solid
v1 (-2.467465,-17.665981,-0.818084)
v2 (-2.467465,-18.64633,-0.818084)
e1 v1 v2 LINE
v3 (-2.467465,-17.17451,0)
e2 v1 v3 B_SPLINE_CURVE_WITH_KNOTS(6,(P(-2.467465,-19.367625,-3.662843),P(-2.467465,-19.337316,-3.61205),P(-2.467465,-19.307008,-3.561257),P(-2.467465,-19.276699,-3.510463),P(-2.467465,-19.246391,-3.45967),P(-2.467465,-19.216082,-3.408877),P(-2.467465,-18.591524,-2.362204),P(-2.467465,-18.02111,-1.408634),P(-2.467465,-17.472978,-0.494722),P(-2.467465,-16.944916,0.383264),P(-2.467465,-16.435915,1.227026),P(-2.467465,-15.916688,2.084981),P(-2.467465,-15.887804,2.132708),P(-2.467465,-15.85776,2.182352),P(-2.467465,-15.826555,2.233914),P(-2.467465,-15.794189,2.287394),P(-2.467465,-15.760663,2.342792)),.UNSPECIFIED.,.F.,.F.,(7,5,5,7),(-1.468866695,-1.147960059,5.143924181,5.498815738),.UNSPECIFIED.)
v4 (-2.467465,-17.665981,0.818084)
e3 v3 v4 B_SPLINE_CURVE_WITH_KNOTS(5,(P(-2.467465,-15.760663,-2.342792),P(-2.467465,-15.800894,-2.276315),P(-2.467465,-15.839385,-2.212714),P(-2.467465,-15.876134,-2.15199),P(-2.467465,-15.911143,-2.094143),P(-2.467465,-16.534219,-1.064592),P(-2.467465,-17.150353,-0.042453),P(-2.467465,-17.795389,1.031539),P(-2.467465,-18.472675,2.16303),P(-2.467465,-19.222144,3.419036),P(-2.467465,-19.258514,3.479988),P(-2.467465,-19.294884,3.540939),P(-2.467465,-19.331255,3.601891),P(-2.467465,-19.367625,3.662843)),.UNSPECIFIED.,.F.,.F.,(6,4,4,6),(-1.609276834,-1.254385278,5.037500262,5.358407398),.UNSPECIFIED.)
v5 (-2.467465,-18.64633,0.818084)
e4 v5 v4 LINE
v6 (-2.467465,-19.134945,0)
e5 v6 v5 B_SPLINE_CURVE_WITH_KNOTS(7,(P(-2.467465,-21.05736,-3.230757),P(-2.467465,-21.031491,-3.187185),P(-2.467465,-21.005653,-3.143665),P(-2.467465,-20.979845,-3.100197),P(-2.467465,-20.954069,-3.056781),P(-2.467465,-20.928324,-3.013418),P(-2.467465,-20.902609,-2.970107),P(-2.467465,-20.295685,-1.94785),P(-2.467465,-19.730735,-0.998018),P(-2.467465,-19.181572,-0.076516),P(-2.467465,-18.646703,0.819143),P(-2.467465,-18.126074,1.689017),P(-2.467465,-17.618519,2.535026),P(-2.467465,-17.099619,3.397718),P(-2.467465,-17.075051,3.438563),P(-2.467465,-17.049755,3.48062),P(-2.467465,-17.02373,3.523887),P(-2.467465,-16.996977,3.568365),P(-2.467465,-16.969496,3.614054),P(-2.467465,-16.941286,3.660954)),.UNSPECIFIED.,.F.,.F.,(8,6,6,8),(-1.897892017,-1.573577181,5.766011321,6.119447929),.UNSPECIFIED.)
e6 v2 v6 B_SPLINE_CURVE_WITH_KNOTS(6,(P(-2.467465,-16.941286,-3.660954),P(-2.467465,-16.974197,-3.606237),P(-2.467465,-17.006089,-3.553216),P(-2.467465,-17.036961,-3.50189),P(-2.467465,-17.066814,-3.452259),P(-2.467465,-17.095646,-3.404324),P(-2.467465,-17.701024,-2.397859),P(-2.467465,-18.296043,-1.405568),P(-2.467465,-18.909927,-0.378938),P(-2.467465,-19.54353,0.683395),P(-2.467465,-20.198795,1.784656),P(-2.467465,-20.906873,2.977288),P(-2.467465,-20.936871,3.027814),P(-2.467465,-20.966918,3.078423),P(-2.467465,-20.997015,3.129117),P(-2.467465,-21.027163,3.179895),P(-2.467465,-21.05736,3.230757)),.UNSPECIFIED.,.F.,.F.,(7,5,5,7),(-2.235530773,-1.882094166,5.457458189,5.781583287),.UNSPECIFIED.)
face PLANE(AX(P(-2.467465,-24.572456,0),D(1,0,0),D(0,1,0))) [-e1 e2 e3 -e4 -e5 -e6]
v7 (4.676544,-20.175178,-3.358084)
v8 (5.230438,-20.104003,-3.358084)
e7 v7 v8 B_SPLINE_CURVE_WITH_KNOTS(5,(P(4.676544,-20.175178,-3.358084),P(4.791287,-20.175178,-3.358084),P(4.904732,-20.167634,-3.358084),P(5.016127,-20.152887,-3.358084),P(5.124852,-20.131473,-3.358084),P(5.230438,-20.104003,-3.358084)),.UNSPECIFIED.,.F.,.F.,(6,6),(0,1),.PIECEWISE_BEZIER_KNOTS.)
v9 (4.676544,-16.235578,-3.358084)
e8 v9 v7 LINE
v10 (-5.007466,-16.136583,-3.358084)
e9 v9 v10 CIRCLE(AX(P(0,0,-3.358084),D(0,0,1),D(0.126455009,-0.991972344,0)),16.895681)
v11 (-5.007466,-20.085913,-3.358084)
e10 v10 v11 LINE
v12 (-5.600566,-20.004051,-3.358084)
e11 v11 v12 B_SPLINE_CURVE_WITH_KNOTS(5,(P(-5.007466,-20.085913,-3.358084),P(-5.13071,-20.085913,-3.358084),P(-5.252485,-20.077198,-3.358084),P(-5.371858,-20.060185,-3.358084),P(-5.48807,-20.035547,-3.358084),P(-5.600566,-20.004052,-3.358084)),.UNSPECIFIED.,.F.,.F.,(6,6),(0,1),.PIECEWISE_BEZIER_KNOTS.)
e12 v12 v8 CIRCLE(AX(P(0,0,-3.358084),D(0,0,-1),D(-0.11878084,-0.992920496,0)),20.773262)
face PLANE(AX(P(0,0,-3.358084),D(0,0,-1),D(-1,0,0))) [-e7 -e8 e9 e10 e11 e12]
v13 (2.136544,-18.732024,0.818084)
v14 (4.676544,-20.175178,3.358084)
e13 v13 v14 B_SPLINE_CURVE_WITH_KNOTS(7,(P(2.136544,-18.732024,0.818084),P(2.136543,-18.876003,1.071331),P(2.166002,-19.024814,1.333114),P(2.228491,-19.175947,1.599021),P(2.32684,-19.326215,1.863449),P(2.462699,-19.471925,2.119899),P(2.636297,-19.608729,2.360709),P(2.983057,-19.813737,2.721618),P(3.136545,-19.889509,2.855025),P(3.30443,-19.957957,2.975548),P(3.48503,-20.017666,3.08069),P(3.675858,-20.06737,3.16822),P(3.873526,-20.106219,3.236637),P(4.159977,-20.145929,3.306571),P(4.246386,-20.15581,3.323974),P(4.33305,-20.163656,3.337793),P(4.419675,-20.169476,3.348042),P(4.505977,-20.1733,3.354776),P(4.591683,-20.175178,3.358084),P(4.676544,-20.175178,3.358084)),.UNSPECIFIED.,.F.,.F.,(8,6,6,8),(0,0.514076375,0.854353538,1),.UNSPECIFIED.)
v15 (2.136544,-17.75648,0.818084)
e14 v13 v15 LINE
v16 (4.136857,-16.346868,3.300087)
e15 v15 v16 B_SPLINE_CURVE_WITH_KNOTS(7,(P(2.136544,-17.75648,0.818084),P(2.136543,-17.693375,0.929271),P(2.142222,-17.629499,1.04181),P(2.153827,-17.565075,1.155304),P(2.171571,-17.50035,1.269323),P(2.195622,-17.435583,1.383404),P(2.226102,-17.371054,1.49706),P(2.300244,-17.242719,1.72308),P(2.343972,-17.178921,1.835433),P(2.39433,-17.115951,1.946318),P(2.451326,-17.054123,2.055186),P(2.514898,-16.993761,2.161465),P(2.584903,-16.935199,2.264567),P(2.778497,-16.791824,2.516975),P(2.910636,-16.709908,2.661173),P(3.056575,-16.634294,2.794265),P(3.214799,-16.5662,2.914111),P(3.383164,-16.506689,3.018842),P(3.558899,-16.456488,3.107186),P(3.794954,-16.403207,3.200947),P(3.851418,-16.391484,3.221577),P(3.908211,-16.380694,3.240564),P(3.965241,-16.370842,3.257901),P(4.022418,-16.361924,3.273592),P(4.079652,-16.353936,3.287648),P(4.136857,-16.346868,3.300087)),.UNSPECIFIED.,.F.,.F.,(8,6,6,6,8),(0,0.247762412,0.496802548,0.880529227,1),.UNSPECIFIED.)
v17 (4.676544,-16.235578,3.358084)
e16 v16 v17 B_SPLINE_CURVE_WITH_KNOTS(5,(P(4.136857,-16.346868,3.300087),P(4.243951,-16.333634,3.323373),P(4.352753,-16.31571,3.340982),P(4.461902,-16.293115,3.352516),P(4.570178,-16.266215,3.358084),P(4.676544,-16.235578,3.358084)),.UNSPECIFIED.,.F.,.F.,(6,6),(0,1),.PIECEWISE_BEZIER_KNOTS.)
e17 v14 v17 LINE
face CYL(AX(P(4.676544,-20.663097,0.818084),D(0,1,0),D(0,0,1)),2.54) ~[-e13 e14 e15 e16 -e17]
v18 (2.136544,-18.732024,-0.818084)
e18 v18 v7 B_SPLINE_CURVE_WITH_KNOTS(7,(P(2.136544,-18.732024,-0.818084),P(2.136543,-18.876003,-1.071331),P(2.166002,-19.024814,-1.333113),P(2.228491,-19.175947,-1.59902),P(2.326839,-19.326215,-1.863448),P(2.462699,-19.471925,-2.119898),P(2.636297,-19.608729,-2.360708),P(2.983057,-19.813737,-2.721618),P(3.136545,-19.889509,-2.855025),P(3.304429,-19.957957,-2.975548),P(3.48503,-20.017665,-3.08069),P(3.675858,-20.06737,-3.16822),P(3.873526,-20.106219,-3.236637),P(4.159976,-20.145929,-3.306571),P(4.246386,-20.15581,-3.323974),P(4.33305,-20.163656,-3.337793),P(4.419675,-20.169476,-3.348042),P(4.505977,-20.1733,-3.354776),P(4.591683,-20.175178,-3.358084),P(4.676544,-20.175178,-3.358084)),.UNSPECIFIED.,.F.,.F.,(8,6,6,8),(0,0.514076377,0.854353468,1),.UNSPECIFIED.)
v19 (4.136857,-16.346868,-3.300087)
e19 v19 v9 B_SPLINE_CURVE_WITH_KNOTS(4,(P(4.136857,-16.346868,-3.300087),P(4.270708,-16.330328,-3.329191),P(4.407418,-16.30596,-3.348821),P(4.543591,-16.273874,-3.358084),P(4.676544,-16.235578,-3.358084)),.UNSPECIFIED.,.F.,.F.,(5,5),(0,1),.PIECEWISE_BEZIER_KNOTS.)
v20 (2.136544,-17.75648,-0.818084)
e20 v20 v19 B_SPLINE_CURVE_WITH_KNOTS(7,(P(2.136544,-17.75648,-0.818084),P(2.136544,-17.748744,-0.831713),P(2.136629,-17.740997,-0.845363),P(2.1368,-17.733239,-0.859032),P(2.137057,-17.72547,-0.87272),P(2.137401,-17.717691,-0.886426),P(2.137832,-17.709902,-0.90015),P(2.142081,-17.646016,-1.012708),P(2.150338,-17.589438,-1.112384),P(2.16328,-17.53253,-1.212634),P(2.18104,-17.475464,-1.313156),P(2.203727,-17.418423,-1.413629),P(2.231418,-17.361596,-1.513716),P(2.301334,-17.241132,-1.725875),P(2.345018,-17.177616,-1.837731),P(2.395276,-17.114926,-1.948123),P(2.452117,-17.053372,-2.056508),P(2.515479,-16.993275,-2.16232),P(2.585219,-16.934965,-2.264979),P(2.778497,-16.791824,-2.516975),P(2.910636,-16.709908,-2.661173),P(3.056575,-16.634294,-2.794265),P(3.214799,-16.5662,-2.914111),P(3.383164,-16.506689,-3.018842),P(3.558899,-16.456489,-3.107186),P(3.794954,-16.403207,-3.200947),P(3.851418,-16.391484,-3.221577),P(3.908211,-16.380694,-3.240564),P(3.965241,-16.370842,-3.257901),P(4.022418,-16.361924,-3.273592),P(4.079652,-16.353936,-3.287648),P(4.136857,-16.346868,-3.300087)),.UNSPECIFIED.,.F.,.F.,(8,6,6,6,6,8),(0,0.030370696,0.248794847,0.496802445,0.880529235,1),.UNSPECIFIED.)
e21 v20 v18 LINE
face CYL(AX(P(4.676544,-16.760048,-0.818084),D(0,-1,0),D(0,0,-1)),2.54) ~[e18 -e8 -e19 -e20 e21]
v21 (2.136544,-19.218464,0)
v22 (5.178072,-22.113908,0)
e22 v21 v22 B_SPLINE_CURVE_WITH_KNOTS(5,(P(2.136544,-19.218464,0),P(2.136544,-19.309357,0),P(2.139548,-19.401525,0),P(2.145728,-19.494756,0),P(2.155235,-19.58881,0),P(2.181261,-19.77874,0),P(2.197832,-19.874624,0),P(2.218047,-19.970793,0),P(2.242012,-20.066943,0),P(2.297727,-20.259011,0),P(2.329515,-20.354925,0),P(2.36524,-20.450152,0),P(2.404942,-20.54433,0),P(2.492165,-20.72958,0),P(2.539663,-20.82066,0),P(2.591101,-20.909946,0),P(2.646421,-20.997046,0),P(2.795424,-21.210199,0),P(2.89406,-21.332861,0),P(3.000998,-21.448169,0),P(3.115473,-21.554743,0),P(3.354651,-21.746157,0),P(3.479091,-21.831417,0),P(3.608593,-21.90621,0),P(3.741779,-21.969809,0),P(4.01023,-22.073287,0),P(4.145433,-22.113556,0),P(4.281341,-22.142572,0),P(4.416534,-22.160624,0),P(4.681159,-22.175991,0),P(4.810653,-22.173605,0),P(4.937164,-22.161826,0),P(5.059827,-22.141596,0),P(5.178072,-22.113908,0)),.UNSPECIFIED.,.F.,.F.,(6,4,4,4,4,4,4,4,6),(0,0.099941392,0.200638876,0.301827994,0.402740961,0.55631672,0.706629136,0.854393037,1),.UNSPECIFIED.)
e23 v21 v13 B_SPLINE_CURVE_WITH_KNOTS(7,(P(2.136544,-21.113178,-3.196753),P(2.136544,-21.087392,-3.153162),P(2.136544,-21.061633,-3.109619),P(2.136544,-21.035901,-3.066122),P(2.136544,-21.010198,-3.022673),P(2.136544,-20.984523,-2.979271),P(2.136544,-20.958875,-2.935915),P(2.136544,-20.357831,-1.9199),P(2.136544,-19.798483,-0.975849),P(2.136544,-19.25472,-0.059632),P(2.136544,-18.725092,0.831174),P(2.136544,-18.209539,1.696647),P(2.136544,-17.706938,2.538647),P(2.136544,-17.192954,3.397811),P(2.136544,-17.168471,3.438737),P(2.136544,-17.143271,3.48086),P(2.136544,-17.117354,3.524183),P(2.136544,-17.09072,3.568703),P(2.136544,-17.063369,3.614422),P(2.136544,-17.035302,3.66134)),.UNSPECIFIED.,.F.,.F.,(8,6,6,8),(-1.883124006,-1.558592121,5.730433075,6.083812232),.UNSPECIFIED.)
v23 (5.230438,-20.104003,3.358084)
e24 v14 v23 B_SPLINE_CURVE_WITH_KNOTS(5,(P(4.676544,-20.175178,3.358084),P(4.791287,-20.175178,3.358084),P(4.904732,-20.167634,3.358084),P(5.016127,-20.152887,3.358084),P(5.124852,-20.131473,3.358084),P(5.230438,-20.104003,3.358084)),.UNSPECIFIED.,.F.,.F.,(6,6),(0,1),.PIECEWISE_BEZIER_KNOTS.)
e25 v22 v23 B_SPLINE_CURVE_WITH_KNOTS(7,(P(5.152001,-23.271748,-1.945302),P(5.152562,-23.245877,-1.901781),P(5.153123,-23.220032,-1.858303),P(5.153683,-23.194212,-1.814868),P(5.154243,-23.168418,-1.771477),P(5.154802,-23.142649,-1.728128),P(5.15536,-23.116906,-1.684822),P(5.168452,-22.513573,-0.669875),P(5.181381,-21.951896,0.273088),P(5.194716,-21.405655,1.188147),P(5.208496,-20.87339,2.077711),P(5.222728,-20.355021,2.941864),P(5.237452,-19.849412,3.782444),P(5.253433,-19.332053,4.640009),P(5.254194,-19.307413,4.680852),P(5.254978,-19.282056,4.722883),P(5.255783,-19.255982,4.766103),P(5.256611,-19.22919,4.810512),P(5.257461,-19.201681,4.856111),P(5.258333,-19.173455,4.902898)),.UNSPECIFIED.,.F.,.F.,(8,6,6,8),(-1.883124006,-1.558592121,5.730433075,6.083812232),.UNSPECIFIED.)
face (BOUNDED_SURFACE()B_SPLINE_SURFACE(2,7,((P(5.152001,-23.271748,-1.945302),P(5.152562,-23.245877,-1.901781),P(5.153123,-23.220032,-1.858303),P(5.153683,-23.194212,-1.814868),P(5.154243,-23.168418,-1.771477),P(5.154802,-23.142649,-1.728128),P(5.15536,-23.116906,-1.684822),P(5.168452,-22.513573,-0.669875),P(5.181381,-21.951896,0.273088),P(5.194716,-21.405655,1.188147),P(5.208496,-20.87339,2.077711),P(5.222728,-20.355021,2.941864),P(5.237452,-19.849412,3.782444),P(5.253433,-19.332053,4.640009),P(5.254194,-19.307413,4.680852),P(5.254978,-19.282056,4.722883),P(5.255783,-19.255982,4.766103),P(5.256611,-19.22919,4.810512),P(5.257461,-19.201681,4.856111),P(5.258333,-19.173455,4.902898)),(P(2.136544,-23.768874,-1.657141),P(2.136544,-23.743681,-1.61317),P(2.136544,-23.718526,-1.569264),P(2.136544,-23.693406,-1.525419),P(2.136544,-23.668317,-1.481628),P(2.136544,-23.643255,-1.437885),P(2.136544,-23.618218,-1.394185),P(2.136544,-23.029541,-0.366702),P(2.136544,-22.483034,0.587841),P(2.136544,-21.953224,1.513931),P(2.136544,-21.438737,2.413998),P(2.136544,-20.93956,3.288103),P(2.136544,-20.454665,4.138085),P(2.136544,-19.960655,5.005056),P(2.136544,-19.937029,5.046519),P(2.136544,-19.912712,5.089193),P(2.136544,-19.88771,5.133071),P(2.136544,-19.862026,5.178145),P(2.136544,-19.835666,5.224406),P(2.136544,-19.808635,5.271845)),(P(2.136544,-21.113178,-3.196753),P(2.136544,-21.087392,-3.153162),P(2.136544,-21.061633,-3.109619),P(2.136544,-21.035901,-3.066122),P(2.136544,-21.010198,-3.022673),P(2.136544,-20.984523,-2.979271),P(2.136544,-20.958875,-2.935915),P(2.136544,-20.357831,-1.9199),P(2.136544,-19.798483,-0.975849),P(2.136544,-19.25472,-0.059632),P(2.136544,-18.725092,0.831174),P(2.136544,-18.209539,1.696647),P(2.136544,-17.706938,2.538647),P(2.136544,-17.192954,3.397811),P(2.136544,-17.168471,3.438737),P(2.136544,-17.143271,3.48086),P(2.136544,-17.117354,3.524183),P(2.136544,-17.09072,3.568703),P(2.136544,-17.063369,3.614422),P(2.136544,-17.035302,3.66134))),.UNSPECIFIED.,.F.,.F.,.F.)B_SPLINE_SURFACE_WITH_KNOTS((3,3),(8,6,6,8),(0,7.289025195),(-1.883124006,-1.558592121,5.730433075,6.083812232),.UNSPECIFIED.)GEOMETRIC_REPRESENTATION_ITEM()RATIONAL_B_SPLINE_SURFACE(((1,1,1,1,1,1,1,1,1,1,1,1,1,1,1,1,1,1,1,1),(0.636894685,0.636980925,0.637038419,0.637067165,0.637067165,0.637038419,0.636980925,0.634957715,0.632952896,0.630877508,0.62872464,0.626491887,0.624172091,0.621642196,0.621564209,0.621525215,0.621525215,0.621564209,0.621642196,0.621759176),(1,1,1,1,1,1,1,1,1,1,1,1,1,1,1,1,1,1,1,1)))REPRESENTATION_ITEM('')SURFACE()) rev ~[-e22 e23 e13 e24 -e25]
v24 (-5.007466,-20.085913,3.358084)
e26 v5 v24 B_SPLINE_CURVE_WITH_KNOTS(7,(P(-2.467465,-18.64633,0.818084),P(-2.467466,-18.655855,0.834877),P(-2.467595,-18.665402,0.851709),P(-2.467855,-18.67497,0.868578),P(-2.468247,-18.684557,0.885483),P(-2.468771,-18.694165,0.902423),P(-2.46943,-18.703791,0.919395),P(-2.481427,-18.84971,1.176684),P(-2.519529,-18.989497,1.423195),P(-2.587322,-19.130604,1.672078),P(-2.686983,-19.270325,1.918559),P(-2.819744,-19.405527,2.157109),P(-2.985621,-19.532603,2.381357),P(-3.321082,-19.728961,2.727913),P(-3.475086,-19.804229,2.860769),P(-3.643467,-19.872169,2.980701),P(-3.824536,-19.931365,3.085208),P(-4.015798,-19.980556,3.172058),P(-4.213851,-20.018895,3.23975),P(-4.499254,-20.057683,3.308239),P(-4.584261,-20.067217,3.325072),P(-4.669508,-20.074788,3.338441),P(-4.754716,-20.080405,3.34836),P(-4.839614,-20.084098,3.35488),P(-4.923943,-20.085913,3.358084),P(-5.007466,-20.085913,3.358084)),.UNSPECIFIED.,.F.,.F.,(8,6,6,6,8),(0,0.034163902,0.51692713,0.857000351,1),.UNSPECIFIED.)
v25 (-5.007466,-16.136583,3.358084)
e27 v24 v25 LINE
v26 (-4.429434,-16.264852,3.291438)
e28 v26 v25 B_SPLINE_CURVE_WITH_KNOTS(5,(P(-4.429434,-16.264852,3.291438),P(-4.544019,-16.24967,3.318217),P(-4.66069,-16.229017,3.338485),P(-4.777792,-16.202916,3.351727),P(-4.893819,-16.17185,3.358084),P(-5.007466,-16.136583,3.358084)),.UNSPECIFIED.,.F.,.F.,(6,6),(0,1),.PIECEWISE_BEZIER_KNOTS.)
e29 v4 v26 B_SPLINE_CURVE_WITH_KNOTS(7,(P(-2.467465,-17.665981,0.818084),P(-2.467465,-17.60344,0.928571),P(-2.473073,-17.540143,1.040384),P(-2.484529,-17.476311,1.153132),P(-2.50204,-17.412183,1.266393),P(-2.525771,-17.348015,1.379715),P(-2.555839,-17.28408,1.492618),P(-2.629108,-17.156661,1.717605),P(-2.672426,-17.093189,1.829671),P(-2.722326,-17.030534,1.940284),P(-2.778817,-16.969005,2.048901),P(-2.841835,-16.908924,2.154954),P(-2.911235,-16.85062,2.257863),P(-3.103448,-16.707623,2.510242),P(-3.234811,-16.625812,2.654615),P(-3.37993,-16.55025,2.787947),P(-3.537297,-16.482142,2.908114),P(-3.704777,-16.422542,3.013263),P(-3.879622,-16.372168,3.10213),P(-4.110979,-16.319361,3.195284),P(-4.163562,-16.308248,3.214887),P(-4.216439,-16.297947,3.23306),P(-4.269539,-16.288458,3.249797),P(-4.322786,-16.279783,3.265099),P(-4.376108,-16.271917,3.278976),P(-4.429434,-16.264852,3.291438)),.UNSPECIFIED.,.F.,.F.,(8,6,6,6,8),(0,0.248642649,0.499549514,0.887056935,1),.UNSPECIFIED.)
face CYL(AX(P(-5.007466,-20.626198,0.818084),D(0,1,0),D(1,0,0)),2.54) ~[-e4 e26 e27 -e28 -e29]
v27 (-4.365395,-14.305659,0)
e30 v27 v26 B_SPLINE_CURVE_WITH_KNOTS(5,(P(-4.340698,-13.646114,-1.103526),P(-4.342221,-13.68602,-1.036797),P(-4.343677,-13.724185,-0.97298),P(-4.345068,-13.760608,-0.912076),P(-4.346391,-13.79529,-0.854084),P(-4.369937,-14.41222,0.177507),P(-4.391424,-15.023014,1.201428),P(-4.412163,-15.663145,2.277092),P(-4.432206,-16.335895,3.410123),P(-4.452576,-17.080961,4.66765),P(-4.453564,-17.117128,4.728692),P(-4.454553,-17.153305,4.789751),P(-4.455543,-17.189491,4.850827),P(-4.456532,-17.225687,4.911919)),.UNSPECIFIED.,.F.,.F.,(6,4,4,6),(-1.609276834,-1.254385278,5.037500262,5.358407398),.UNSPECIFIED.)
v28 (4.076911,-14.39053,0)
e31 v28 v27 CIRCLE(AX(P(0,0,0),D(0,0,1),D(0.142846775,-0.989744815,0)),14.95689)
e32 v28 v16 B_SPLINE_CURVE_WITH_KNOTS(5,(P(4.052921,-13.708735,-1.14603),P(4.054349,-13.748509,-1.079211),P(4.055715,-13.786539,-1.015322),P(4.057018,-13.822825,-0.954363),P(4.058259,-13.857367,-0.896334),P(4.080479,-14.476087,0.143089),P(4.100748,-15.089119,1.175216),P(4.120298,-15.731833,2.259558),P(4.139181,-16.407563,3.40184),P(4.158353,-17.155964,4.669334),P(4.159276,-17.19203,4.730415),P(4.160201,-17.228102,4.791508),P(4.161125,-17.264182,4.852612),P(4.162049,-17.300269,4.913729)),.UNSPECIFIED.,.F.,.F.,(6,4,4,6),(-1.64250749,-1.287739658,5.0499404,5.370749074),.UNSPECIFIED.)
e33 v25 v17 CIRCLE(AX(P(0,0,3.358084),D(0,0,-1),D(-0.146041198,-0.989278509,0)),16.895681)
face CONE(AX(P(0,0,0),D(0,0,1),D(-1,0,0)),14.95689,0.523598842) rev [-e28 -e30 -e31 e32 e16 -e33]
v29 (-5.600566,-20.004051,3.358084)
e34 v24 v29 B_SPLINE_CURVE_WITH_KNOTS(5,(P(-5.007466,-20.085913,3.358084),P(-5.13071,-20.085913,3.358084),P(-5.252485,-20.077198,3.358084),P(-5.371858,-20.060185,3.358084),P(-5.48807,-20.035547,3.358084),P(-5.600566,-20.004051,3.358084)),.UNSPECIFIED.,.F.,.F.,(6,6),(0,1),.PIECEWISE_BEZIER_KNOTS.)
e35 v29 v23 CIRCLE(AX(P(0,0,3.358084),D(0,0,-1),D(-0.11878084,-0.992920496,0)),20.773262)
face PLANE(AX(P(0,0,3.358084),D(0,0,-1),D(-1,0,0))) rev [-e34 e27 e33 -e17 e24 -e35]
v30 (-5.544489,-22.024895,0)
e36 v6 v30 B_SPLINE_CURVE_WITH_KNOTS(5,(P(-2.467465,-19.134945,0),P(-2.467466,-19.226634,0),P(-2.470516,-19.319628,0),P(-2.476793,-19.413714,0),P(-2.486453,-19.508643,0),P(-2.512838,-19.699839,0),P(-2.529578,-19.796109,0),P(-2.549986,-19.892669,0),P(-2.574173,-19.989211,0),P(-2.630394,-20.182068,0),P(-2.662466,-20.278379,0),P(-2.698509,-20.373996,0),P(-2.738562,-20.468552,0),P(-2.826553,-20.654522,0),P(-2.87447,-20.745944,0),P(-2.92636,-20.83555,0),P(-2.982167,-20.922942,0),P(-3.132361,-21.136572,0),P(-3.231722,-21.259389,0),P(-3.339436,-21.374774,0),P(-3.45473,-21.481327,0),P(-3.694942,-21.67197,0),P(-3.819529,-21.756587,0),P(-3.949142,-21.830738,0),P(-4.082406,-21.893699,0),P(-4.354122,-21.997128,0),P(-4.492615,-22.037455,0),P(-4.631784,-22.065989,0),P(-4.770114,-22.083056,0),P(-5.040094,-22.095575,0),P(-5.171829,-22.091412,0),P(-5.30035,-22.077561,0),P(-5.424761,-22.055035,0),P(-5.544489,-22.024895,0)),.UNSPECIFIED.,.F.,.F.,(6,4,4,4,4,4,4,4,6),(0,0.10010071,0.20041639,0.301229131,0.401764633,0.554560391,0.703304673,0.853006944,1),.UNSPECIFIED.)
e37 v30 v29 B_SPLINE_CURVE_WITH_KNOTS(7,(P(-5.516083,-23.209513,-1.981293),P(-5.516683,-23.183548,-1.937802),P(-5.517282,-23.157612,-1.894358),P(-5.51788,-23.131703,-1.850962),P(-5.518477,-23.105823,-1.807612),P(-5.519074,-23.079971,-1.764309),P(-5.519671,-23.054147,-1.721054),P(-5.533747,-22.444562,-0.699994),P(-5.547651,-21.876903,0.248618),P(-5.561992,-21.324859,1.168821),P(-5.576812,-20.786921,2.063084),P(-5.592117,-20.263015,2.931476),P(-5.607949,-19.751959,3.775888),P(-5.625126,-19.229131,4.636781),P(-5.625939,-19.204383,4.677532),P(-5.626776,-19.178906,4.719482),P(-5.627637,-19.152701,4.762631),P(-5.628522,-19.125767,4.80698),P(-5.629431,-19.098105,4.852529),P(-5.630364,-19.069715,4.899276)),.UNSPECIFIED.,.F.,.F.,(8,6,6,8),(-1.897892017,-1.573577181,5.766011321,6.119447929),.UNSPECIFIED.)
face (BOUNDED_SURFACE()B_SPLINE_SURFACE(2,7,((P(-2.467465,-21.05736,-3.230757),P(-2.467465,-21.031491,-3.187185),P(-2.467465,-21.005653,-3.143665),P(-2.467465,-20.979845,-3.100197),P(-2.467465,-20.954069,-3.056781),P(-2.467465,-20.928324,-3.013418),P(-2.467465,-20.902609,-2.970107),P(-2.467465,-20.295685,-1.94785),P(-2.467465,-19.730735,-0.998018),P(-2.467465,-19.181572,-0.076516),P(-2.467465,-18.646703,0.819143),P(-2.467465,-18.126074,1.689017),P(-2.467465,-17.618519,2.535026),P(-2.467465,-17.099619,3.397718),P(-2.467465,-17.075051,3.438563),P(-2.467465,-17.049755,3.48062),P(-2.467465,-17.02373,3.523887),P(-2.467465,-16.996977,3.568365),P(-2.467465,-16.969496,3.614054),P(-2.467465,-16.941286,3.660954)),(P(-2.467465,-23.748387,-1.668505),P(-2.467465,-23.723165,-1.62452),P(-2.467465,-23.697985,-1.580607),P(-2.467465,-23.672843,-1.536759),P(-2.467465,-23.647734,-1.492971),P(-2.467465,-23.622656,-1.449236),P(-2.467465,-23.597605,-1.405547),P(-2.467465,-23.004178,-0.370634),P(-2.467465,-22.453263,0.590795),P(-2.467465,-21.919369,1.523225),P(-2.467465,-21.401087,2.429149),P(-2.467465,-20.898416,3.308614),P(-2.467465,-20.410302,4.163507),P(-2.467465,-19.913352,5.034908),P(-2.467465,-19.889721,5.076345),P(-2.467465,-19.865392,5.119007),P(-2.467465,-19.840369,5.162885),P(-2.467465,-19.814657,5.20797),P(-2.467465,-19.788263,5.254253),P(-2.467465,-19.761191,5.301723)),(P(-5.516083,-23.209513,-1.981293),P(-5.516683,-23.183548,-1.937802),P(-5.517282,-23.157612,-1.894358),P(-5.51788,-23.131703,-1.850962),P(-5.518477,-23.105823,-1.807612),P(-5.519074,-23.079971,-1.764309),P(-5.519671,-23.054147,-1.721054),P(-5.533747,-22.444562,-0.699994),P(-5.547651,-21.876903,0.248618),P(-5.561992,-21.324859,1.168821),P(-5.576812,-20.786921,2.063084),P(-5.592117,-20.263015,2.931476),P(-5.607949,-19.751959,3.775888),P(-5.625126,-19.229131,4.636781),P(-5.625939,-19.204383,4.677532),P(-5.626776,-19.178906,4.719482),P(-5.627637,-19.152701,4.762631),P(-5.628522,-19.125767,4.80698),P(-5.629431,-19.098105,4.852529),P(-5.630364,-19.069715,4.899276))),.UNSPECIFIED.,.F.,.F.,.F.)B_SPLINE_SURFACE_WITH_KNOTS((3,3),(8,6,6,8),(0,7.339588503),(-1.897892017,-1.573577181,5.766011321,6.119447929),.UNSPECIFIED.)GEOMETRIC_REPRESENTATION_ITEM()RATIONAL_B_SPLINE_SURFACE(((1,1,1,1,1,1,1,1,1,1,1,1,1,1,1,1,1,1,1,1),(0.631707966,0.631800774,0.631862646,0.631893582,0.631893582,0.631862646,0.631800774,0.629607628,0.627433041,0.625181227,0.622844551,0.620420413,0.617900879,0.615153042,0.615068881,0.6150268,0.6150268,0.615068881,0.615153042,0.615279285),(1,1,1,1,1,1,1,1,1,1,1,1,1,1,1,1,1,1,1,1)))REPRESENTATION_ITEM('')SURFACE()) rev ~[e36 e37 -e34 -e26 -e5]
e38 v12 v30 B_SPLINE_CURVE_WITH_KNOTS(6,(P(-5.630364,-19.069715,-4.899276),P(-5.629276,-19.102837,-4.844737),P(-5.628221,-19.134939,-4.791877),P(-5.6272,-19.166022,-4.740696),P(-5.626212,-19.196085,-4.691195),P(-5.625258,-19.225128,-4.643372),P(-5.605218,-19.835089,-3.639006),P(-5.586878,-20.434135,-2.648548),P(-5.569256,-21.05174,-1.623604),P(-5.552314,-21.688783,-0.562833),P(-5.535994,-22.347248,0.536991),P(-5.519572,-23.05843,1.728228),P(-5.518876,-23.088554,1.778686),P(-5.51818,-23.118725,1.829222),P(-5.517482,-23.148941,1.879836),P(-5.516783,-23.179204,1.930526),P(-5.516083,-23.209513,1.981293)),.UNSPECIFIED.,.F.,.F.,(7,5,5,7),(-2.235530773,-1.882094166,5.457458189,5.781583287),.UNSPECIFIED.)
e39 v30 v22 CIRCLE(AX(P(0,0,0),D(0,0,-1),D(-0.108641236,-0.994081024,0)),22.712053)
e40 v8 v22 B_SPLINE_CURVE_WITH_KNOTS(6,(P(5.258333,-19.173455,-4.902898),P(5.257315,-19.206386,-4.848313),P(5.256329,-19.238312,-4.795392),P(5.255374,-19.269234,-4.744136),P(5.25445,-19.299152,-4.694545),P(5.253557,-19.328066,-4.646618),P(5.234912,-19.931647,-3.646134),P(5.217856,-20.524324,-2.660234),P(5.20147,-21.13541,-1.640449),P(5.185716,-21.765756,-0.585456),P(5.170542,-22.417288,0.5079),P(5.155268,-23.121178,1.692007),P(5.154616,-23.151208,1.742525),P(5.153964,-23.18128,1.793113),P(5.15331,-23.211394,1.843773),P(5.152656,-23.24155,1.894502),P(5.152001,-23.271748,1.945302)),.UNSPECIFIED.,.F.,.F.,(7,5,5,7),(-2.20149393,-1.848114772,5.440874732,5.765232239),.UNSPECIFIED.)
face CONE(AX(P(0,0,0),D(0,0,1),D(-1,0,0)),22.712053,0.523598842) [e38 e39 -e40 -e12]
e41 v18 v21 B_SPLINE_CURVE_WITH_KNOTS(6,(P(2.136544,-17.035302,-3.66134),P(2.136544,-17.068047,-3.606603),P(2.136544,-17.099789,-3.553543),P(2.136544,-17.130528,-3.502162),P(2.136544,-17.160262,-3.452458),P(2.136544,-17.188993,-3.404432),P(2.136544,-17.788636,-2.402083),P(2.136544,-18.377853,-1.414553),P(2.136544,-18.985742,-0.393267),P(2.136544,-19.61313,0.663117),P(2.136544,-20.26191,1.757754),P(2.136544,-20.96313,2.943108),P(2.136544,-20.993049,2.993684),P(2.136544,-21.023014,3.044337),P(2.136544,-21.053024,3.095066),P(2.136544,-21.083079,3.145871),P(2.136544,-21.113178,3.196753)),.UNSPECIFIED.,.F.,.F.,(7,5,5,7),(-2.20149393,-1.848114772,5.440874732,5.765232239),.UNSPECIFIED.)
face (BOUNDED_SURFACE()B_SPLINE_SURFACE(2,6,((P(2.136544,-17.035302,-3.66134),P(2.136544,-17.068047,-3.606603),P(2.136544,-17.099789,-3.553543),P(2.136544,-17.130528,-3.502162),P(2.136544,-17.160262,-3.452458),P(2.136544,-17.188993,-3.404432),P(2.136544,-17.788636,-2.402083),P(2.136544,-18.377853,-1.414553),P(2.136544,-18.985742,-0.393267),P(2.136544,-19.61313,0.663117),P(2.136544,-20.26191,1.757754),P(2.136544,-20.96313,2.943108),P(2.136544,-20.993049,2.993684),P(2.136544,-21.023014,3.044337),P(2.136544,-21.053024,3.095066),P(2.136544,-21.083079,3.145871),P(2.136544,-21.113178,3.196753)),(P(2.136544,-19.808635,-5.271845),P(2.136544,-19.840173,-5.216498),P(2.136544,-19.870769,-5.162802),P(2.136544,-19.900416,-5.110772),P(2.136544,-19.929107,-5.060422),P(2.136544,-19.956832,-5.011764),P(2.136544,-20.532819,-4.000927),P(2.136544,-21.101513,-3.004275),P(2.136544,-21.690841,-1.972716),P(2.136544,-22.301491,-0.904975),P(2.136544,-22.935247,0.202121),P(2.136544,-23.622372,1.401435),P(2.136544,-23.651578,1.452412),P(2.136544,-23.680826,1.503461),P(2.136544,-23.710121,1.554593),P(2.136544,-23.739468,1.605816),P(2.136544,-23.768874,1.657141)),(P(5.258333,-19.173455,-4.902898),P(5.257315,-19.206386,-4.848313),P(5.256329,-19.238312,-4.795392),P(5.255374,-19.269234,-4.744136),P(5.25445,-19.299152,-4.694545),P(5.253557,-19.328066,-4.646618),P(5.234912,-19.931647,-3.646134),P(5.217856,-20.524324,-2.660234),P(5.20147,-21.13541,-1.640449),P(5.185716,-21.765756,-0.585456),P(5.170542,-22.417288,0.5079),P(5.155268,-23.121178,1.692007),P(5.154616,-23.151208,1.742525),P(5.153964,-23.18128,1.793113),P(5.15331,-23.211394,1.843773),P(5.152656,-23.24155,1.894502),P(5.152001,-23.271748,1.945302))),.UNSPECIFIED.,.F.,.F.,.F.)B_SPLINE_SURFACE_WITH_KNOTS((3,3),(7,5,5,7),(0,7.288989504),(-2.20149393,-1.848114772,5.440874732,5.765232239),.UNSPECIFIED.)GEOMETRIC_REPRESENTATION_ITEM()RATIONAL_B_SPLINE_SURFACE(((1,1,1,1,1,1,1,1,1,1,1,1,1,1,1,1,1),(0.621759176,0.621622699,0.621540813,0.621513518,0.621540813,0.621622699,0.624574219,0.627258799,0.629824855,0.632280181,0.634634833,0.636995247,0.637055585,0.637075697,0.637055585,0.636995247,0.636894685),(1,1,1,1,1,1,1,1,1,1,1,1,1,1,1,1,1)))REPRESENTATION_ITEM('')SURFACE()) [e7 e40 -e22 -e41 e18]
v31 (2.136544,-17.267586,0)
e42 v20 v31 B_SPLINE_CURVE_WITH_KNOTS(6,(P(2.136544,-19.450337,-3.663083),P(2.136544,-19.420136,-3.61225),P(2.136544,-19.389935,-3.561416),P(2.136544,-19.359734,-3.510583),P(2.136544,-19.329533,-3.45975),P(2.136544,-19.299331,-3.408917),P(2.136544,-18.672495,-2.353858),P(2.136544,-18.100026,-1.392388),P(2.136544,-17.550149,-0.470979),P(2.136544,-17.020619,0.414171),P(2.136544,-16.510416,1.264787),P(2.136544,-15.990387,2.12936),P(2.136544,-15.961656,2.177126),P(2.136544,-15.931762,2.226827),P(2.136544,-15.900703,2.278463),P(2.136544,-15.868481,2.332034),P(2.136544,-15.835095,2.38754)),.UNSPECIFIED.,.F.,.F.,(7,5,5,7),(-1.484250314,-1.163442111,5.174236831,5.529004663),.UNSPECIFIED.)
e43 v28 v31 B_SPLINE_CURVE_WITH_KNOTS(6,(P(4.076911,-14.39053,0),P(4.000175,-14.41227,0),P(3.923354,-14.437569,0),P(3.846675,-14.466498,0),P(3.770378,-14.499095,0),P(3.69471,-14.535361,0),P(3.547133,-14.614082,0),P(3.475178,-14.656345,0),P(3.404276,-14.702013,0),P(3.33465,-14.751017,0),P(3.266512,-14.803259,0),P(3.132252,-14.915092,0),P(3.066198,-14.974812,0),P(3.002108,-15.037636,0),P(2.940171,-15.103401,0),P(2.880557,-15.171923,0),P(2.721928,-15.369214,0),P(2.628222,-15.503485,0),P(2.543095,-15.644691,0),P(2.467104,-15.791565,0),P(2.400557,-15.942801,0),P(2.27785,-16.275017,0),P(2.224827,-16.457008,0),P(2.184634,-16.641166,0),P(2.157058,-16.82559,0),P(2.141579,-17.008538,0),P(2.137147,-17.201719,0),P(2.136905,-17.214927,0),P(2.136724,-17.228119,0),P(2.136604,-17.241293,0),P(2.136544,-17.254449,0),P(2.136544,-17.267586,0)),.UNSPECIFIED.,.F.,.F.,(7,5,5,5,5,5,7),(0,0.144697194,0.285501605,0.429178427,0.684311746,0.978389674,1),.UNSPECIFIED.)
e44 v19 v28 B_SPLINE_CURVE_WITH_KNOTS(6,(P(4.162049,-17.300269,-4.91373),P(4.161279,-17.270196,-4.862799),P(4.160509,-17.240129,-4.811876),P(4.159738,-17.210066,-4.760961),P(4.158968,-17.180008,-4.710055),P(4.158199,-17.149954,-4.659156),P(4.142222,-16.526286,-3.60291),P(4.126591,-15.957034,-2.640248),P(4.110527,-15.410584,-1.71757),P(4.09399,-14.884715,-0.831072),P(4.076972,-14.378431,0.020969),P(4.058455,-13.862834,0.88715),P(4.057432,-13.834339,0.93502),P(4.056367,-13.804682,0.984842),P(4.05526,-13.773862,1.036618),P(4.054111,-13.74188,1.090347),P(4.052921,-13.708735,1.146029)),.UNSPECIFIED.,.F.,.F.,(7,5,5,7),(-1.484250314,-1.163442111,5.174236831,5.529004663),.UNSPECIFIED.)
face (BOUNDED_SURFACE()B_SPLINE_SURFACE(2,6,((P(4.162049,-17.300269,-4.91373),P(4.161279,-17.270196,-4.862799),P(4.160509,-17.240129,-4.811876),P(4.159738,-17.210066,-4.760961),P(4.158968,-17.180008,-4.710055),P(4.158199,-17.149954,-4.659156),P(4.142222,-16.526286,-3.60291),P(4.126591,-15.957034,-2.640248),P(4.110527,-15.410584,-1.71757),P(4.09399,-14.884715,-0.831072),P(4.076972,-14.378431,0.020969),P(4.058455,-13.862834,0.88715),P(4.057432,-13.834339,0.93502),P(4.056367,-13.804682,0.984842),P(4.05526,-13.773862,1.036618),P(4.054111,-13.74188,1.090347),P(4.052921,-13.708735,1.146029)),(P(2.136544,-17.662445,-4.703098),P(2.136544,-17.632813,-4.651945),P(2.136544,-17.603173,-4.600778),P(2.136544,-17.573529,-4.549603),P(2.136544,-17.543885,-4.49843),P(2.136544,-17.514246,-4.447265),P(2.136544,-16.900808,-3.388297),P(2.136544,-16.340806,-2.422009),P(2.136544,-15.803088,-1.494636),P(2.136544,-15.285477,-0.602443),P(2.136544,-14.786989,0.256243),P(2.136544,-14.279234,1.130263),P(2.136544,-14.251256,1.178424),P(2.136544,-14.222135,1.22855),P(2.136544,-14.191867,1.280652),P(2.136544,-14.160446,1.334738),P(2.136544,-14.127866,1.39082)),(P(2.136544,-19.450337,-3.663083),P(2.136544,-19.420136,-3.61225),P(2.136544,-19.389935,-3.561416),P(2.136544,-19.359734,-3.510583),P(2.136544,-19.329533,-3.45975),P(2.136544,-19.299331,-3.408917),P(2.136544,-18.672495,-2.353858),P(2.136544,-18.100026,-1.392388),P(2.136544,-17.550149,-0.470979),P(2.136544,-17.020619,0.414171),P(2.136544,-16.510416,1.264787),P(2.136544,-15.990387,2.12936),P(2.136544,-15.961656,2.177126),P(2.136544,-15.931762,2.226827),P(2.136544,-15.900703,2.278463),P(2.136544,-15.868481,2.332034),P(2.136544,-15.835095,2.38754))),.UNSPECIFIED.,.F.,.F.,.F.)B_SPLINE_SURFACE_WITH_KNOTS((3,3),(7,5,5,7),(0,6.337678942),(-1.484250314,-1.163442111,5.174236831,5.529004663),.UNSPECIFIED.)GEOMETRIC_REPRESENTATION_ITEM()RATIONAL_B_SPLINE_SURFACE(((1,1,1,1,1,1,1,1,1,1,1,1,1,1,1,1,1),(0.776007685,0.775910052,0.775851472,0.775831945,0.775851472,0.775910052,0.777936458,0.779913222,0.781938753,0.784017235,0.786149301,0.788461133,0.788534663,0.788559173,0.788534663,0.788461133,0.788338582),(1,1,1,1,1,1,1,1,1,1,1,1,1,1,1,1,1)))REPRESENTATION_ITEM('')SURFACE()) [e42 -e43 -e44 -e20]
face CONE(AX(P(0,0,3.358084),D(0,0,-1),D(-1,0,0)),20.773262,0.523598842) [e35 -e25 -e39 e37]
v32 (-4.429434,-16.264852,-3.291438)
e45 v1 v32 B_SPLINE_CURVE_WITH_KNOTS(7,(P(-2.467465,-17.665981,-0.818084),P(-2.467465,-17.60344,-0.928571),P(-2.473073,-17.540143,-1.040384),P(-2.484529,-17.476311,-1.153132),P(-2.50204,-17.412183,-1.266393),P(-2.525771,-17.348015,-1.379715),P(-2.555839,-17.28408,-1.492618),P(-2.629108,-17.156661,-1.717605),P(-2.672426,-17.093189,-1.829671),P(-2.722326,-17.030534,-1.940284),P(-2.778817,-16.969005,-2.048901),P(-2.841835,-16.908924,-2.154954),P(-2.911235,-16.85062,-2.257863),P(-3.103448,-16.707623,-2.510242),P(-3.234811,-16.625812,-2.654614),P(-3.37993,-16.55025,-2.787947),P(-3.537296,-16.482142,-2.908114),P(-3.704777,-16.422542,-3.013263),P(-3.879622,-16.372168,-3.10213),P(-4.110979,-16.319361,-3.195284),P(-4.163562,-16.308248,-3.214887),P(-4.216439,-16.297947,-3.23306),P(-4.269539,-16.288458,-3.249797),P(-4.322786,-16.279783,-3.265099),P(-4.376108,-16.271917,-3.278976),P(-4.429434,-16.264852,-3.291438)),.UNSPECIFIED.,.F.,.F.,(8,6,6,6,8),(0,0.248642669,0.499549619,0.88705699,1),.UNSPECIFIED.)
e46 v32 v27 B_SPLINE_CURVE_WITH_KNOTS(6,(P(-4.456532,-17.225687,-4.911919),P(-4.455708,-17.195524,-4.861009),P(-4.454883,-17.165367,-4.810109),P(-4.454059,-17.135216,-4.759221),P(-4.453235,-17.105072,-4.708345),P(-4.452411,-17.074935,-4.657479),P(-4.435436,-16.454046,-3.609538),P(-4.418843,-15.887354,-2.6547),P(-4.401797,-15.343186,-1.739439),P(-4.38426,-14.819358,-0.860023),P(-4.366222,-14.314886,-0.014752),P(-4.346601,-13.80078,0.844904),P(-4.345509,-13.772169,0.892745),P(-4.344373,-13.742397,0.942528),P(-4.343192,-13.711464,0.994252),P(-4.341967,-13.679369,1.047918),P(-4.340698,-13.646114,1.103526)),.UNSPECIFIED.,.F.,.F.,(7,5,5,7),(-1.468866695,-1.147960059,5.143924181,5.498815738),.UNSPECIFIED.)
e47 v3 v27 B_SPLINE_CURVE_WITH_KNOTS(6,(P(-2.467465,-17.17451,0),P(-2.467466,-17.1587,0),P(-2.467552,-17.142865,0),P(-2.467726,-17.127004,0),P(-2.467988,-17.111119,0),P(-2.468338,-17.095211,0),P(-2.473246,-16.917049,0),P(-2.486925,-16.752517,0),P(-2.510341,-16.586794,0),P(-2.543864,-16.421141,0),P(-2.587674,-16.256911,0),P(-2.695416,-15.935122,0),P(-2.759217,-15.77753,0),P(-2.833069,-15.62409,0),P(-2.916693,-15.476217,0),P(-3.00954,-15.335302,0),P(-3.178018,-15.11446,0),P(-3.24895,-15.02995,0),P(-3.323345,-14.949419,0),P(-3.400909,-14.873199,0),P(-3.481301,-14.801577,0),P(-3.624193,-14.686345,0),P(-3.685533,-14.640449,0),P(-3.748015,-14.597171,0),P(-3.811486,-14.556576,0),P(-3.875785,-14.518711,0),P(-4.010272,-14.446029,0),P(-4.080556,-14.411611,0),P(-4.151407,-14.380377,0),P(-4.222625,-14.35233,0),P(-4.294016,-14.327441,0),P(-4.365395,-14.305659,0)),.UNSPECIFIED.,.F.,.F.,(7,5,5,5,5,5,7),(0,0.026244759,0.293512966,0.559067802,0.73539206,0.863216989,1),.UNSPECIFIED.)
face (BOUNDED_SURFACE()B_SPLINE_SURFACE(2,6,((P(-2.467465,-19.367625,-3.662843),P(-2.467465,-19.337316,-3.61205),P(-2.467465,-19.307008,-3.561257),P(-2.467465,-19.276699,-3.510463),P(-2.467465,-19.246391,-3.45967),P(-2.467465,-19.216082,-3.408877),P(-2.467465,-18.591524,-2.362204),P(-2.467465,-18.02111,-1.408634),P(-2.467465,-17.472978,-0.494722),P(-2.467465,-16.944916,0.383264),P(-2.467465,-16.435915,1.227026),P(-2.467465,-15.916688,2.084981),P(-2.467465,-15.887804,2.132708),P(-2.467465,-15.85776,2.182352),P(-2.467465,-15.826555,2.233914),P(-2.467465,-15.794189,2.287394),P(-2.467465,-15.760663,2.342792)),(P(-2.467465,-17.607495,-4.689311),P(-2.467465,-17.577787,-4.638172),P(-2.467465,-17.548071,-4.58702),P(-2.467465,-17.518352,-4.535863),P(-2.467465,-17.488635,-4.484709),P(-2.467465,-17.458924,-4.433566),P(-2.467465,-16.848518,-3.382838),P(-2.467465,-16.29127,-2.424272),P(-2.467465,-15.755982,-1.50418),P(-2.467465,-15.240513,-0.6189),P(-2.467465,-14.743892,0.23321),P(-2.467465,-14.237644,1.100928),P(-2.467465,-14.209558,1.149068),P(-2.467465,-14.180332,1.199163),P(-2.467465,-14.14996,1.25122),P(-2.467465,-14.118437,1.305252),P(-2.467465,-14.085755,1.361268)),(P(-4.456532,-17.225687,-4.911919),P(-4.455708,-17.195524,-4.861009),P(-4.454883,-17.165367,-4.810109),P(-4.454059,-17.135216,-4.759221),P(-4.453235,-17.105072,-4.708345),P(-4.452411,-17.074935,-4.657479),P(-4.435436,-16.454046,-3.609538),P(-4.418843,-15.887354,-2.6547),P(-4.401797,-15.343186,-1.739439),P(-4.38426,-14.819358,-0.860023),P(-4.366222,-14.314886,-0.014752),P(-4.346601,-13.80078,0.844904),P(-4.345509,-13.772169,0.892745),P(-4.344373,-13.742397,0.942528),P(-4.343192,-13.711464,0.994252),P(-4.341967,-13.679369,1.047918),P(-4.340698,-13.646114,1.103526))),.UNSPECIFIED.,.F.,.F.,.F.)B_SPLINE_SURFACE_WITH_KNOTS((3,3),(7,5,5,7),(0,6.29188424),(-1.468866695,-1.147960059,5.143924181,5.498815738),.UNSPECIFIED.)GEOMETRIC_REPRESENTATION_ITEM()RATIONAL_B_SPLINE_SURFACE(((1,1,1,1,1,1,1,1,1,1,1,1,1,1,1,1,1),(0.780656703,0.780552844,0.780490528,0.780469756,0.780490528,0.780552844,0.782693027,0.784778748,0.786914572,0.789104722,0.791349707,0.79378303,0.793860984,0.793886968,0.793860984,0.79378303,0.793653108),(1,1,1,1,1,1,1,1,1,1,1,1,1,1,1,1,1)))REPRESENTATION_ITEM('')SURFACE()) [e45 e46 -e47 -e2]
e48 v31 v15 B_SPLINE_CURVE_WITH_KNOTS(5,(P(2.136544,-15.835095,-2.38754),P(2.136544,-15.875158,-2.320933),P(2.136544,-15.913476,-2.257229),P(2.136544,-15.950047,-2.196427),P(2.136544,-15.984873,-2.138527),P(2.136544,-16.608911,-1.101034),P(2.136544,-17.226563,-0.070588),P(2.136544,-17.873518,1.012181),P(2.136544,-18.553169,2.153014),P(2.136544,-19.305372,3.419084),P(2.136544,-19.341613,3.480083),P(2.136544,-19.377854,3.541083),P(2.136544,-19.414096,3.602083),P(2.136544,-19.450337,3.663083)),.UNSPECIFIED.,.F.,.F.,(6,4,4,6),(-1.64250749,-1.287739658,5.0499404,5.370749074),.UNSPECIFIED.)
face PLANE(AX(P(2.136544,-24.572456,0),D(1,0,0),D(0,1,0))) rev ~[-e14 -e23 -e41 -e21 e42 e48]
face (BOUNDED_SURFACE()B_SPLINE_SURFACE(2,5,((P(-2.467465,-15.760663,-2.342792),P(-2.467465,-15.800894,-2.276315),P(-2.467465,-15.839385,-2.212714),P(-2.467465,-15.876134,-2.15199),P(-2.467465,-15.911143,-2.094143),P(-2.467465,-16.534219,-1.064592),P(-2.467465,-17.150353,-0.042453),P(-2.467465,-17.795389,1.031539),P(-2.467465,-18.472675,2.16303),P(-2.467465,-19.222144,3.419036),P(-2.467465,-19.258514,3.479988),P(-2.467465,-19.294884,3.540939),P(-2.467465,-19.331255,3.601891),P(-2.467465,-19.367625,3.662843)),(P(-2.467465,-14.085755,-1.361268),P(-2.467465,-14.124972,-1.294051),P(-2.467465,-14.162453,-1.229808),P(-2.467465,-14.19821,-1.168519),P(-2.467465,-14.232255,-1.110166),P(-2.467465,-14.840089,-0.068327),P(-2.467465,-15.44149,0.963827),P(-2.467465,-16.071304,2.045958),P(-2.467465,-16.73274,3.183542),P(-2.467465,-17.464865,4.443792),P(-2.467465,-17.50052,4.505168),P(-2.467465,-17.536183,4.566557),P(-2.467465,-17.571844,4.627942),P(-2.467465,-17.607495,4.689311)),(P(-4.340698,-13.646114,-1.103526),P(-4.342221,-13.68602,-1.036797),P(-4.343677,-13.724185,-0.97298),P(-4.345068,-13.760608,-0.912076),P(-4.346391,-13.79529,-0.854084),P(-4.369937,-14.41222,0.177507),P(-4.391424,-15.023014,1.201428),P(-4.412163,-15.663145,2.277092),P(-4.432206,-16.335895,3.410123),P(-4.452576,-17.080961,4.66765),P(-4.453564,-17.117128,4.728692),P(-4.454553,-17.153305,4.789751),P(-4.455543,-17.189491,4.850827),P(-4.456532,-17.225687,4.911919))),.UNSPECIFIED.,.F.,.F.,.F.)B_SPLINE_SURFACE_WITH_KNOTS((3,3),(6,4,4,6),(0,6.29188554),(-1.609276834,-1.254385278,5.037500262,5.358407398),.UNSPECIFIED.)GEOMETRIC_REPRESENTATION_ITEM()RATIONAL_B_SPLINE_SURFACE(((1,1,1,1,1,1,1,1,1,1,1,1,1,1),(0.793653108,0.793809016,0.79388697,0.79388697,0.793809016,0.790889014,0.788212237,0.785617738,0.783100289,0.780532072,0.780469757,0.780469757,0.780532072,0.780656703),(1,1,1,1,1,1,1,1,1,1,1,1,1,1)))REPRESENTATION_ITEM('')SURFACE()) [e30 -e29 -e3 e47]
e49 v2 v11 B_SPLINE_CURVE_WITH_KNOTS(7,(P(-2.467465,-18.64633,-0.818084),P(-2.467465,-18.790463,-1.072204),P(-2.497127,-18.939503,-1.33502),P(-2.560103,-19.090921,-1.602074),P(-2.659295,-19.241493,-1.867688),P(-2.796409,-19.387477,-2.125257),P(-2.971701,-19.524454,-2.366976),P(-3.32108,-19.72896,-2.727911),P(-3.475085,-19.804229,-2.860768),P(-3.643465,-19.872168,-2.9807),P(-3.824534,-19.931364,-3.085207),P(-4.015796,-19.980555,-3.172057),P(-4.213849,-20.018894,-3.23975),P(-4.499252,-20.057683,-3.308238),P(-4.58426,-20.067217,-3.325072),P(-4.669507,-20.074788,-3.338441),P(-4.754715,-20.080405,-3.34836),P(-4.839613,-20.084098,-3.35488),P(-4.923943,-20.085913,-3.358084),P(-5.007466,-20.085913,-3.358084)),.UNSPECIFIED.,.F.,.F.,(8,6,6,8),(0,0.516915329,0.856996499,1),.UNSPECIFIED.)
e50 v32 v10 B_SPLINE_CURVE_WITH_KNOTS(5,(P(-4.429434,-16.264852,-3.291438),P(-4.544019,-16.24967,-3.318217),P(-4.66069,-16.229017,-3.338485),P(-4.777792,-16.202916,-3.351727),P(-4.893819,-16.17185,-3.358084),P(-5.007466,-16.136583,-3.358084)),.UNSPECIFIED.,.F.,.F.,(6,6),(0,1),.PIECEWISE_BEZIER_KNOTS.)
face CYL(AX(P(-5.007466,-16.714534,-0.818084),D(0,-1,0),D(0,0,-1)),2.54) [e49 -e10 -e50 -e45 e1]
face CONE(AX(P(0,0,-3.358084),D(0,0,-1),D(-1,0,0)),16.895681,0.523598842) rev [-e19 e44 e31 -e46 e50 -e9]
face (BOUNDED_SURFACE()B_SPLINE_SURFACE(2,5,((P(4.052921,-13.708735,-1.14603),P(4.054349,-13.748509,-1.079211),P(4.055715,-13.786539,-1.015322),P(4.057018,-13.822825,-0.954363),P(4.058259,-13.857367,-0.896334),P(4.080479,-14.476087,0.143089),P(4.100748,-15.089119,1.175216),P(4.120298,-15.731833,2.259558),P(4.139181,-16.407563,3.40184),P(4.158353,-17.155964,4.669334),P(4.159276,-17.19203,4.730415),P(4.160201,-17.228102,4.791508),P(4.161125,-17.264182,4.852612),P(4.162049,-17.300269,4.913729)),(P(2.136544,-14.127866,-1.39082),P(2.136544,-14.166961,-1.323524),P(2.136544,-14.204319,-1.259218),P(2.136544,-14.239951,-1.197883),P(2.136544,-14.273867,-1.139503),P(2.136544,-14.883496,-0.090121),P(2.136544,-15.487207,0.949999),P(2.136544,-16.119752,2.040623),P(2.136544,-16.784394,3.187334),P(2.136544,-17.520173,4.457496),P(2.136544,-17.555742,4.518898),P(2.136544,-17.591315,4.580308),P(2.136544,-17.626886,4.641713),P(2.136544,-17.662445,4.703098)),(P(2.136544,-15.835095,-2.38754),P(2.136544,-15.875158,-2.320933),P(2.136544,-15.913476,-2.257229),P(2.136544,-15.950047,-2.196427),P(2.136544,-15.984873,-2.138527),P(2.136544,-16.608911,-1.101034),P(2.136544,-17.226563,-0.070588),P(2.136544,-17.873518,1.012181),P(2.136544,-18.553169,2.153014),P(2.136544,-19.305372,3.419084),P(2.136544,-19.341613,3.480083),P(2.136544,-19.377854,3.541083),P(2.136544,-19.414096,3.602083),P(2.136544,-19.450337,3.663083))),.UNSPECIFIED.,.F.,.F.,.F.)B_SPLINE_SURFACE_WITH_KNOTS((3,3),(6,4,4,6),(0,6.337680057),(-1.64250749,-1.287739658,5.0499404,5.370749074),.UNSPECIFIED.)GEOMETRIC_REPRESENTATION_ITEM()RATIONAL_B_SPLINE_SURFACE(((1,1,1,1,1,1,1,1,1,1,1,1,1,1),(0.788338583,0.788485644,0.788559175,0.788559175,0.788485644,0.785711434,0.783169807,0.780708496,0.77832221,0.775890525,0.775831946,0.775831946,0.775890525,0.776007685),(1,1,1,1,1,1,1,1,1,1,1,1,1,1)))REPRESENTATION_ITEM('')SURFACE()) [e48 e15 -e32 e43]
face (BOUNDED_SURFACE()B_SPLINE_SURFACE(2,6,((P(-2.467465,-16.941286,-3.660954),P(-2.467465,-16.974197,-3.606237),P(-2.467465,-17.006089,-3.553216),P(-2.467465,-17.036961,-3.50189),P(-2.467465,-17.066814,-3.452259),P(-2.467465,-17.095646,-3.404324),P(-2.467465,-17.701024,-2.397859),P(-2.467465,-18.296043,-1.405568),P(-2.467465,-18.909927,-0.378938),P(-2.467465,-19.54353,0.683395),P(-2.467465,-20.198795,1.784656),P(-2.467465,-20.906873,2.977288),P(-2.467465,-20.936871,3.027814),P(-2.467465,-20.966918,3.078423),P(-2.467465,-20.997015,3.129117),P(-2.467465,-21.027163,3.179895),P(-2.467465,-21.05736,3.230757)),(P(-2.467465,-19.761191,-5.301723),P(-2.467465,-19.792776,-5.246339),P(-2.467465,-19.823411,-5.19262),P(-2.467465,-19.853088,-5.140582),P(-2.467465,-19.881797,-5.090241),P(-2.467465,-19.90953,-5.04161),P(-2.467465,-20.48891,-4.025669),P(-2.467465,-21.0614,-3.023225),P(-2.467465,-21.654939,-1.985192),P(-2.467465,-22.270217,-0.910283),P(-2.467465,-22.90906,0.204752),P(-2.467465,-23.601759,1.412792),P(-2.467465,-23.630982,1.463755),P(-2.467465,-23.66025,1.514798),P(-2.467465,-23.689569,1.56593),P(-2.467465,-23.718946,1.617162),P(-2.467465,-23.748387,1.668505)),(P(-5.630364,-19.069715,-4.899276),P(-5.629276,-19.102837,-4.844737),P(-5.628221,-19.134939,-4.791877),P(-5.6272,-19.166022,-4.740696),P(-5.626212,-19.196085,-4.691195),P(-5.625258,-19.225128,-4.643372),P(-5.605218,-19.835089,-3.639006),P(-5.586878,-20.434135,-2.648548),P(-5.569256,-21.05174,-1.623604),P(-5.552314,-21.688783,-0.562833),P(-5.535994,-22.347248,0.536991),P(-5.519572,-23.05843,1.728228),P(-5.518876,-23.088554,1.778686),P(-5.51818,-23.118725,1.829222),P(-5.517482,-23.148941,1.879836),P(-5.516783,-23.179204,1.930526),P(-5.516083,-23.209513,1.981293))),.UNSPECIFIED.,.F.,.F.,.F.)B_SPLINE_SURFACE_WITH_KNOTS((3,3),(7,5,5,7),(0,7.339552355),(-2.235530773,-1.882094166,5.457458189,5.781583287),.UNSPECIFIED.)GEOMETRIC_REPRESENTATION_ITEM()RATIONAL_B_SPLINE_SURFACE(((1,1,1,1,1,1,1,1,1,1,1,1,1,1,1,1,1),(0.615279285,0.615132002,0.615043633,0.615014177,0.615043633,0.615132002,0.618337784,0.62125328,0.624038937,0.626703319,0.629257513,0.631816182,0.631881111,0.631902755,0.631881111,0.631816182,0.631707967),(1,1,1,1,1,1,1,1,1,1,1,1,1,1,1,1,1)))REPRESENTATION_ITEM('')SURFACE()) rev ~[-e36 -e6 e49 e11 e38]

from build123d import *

# Parameters (mm, degrees)
F2_W     = 4.604009
F2_H     = 13.256372
F3_DEPTH = 12.7
F4_R     = 2.54


with BuildPart() as f1:
    # F0 (on Front) → F1 (revolve)
    with BuildSketch(Plane.XZ):
        Polygon((-20.773262, -3.358084), (-16.895681, -3.358084), (-14.95689, 0), (-16.895681, 3.358084), (-20.773262, 3.358084), (-22.712053, 0), align=None)
    revolve(axis=Axis((0, 0, 8.760218), (0, 0, -1)))

    # F2 (on Top) → F3 (cut, symmetric)
    with BuildSketch(Plane.XY):
        with Locations((-0.165461, -17.94427)):
            Rectangle(F2_W, F2_H)
    extrude(amount=F3_DEPTH, both=True, mode=Mode.SUBTRACT)

    # F4
    f4_edges = [f1.edges().sort_by_distance(p)[0] for p in [
        (2.136543, -18.711573, -3.358084),
        (2.136543, -21.637376, -1.679134),
        (2.136543, -21.637376, 1.679134),
        (2.136543, -18.711573, 3.358084),
        (2.136543, -15.782185, 1.678804),
        (2.136543, -15.782185, -1.678804),
        (-2.467466, -18.670366, -3.358084),
        (-2.467466, -15.733794, -1.678721),
        (-2.467466, -15.733794, 1.678721),
        (-2.467466, -18.670366, 3.358084),
        (-2.467466, -21.602122, 1.679166),
        (-2.467466, -21.602122, -1.679166),
    ]]
    fillet(f4_edges, radius=F4_R)


solid = f1.part
